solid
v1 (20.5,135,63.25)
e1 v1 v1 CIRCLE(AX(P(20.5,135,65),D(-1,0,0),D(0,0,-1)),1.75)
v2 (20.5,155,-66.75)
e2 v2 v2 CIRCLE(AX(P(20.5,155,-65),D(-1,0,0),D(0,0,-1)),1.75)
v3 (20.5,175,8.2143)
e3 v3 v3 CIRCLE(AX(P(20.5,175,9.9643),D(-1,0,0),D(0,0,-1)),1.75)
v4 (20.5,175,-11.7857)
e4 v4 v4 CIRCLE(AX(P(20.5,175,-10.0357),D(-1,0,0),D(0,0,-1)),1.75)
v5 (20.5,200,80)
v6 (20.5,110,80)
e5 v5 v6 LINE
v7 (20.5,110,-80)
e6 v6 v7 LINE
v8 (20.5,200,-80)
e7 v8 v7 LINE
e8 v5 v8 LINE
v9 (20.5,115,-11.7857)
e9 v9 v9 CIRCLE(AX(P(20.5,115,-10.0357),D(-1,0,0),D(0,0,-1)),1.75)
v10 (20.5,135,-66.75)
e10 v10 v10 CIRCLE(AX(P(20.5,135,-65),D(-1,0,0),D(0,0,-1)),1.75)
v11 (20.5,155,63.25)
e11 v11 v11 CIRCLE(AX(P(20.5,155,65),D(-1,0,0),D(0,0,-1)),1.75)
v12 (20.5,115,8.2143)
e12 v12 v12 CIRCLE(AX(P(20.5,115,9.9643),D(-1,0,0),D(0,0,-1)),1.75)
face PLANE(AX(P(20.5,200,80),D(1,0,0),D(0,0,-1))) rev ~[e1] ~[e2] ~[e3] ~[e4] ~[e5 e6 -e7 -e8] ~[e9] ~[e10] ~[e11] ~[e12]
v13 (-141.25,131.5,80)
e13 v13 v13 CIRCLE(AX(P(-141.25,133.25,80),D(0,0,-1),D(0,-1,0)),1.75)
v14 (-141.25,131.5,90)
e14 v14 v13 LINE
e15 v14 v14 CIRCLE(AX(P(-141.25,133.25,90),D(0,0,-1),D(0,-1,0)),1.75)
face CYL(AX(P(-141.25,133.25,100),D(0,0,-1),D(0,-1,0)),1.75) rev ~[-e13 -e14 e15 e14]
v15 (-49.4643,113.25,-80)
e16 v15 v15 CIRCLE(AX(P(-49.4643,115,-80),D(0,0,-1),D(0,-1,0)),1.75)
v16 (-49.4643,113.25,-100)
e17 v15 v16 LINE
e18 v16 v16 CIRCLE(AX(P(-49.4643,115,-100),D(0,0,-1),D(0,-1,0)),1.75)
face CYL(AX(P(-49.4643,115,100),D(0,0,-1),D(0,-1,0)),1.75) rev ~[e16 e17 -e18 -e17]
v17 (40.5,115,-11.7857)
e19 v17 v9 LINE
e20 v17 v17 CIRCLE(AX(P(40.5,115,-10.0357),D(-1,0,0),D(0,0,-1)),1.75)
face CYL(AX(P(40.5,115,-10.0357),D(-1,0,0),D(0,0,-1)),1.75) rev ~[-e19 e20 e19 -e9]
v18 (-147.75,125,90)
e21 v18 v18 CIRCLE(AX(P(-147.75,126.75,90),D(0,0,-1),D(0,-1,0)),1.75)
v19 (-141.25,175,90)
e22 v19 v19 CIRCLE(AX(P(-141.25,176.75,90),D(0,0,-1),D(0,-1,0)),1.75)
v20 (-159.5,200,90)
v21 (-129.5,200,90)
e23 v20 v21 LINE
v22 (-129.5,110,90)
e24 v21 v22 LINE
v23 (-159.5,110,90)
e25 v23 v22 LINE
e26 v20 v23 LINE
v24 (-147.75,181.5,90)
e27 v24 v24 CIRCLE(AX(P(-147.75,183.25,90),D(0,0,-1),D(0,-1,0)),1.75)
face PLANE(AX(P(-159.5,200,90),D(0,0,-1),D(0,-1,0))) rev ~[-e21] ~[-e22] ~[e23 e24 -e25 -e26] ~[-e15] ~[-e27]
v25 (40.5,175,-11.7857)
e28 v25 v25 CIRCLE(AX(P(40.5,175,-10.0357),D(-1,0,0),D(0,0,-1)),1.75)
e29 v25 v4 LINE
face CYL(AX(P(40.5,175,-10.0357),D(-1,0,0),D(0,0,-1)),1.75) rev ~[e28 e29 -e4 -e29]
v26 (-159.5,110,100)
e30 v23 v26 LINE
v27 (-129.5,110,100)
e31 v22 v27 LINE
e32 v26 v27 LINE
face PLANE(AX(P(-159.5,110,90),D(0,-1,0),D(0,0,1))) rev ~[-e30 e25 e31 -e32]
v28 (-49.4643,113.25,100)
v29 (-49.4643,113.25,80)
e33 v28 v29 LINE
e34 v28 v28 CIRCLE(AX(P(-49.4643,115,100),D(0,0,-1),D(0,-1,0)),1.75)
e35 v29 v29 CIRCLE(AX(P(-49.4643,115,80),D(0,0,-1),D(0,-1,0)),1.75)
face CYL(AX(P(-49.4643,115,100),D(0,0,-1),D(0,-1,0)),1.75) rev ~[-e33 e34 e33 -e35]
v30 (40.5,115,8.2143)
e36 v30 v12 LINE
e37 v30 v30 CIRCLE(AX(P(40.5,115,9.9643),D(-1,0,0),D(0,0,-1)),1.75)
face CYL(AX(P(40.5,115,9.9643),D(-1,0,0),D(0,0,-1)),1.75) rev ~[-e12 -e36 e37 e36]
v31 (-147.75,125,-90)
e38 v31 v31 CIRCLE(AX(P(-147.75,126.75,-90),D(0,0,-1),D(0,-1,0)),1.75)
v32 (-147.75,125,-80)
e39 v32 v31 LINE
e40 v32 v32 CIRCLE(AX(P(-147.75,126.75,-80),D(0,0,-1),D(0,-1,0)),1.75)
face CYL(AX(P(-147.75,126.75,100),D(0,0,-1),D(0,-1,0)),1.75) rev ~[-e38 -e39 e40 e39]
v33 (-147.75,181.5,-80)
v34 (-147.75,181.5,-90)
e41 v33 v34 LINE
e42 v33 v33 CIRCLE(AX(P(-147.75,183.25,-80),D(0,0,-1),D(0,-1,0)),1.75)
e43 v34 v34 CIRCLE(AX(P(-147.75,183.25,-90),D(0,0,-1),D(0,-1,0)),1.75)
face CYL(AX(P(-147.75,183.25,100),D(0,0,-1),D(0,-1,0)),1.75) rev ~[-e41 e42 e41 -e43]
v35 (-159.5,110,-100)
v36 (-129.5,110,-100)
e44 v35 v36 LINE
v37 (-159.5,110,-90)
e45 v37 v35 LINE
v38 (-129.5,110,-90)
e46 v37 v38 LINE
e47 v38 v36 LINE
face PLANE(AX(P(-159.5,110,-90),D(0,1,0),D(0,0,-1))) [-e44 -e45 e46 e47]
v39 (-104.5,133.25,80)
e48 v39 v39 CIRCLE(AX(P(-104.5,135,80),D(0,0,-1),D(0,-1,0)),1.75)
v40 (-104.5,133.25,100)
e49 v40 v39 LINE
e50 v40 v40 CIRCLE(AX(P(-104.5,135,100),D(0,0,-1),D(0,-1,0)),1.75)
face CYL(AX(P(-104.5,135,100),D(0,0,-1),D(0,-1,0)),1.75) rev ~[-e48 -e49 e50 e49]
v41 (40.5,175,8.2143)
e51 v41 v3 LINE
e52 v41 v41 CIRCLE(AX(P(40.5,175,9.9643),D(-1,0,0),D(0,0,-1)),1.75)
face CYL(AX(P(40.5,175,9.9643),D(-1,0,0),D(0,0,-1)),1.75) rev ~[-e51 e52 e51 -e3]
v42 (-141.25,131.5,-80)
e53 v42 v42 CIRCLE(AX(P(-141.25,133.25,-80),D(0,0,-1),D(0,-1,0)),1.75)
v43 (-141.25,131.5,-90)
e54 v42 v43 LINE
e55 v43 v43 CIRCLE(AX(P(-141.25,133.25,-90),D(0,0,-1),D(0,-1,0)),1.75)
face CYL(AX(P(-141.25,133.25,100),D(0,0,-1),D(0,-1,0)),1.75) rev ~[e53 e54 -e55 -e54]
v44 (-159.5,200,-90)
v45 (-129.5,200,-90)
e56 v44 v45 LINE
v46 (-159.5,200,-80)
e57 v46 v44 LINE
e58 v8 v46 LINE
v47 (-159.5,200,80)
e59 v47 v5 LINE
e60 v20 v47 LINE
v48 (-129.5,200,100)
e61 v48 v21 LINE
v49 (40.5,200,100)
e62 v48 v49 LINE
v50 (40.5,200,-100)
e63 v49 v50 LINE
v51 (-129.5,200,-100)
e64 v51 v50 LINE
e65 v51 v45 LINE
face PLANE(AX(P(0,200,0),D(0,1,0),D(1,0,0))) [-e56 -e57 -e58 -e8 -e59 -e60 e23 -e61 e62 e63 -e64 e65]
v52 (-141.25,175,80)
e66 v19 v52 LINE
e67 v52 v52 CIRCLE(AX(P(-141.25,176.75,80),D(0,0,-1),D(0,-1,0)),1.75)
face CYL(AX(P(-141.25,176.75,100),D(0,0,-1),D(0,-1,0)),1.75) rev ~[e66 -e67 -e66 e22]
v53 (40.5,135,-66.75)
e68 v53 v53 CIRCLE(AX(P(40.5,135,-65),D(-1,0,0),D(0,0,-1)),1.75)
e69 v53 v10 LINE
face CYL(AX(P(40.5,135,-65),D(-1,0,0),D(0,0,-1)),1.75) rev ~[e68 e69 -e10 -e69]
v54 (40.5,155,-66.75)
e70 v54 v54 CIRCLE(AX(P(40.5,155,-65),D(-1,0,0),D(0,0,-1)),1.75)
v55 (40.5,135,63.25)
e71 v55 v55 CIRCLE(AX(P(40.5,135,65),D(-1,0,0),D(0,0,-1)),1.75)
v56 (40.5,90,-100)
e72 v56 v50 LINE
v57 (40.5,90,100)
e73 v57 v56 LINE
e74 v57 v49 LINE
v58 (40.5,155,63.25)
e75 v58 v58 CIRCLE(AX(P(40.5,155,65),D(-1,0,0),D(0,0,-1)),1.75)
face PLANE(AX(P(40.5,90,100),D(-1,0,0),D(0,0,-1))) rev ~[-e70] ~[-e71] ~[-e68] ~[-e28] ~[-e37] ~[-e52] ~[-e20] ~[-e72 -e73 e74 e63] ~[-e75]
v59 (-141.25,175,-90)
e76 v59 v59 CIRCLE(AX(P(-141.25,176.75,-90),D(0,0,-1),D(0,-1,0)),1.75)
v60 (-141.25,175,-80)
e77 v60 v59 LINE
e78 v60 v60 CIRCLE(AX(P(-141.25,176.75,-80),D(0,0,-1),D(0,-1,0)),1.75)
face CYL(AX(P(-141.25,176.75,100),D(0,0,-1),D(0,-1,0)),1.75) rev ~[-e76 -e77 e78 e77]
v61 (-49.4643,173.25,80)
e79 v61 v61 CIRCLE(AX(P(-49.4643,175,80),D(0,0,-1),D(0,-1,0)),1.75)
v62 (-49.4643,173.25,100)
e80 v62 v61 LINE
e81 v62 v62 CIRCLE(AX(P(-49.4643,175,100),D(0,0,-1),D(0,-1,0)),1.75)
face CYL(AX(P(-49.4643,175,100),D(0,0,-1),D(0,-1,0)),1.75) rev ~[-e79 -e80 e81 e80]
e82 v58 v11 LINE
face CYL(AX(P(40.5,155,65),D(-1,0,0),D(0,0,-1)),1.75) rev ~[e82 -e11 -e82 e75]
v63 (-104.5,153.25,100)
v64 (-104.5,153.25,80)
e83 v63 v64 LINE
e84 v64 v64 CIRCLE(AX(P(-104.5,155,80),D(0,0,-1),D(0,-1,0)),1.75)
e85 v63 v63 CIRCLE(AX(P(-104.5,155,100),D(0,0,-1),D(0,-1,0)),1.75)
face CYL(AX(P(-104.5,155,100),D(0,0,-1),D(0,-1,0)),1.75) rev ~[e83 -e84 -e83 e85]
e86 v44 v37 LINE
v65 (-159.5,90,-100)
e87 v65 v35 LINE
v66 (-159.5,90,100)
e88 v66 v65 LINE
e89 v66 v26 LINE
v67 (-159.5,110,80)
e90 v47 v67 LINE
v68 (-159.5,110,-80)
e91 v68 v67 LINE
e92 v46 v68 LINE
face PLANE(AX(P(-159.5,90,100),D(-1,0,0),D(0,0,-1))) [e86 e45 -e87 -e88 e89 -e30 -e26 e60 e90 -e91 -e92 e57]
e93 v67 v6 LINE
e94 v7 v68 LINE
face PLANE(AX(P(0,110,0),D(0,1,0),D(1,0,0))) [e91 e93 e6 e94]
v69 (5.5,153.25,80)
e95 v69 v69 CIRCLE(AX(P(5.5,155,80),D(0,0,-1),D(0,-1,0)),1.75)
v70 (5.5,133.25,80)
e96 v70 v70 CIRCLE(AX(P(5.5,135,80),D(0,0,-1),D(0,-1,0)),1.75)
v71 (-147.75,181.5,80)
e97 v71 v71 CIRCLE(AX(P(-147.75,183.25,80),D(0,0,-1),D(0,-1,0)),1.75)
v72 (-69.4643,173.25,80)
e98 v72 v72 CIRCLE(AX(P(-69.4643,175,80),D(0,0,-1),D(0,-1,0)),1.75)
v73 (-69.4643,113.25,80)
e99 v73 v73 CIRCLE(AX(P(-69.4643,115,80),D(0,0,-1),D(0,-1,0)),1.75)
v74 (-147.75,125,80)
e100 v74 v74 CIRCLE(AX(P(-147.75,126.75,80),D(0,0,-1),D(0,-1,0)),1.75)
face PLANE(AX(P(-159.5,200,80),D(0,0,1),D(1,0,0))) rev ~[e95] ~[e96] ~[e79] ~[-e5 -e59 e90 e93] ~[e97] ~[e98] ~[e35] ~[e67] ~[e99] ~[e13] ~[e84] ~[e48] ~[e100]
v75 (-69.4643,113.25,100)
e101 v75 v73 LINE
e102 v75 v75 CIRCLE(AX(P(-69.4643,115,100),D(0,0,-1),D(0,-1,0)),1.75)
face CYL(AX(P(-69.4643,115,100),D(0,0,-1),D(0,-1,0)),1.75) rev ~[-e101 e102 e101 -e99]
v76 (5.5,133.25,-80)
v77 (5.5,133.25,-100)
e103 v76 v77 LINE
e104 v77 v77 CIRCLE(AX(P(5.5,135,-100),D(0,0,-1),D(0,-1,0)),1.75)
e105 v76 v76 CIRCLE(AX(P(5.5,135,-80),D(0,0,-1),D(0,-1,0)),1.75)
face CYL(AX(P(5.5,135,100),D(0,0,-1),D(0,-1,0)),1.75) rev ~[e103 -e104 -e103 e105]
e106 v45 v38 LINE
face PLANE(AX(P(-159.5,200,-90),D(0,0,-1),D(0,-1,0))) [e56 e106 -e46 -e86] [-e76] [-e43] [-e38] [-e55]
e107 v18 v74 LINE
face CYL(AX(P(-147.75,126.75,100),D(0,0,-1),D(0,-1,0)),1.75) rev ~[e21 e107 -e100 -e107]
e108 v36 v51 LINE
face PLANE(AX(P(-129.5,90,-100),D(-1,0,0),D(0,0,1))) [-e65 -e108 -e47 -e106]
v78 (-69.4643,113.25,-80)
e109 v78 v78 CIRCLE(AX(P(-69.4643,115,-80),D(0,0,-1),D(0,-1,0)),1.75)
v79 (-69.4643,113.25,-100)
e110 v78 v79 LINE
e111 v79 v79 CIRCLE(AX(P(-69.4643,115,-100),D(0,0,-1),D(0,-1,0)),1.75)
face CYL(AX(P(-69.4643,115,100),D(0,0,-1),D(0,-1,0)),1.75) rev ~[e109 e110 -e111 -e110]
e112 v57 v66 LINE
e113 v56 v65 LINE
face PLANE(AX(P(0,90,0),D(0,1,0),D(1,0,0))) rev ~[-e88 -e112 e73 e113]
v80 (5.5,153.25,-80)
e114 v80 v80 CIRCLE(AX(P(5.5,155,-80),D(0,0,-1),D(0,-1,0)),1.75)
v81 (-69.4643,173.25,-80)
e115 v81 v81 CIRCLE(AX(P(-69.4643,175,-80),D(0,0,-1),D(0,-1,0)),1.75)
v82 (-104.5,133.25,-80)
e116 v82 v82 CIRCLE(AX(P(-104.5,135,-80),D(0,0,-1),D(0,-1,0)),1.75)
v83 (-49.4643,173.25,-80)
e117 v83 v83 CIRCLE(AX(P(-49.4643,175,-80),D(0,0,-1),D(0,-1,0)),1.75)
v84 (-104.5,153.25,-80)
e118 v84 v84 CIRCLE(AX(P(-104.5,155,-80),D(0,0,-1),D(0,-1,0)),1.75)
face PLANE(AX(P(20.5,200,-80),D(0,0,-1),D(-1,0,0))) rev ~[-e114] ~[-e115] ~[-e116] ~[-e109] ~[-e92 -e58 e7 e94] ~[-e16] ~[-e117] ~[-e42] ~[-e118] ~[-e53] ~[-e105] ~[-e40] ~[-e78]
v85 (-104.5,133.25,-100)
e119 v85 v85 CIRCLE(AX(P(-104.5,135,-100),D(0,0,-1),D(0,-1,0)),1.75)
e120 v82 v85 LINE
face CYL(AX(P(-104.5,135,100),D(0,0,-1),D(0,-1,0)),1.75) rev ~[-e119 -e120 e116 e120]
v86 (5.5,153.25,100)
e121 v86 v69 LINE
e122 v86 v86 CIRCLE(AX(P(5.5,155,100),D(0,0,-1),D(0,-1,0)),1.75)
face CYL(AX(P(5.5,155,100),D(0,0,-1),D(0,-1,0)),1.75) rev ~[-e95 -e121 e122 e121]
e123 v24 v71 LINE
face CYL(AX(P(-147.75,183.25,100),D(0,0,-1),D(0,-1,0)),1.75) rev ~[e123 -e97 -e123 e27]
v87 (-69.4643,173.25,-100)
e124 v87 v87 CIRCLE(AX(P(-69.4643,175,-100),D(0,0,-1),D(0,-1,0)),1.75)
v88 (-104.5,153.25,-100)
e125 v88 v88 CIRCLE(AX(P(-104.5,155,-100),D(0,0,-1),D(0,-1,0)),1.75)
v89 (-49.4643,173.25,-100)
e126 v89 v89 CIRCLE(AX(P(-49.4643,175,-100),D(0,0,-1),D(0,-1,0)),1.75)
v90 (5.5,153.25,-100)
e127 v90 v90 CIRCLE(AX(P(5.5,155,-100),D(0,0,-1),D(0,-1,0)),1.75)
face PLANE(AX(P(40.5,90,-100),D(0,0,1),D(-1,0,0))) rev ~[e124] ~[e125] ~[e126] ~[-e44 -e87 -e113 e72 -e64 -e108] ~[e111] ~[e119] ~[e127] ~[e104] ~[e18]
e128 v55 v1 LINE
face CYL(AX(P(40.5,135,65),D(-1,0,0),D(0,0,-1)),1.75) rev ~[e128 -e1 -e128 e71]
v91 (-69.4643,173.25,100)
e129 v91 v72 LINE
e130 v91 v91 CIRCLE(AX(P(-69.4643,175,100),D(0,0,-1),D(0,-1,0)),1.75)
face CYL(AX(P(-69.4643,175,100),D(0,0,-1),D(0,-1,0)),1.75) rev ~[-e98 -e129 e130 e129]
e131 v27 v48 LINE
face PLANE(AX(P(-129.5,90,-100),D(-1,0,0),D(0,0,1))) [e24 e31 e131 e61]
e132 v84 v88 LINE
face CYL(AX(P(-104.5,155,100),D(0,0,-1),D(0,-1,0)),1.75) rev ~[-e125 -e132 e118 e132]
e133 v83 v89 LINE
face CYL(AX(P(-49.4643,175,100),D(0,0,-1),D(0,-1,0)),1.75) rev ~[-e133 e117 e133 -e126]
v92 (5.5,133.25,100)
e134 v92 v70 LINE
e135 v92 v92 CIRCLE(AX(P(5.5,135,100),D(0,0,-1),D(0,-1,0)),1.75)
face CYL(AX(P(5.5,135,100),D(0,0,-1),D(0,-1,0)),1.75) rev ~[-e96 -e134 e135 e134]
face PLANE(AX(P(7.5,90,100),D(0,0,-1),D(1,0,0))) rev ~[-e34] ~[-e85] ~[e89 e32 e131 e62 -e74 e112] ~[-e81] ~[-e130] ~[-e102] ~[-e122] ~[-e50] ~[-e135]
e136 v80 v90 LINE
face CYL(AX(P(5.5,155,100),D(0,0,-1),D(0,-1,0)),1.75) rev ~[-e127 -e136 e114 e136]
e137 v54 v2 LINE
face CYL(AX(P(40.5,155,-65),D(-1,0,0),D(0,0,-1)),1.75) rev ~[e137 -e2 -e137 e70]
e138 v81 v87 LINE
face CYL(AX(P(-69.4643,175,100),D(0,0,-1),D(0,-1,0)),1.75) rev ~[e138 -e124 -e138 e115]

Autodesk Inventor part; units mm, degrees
ref_plane "YZ Plane" through (0, 0, 0) normal (1, 0, 0) x (0, 1, 0)
ref_plane "XZ Plane" through (0, 0, 0) normal (0, 1, 0) x (-1, 0, 0)
ref_plane "XY Plane" through (0, 0, 0) normal (0, 0, 1) x (1, 0, 0)
sketch "Boceto2" plane through (0, 0, 0) normal (0, 1, 0) x (-1, 0, 0)
  line L0 (7.5, 100) -> (-7.5, 100)
  line L1 (-7.5, 100) -> (-7.5, -100)
  line L2 (-7.5, -100) -> (7.5, -100)
  line L3 (7.5, -100) -> (7.5, 100)
  line L4 (7.5, 100) -> (-7.5, -100) construction
  line L5 (-7.5, 100) -> (7.5, -100) construction
  point P0 (0, 0)
  dimension "d7" = 15
  dimension "d8" = 200
extrude "Extrusión1" add sketch "Boceto2" along normal blind 10
sketch "Boceto3" plane through (0, 10, 0) normal (0, 1, 0) x (1, 0, 0)
  line L0 (5, 60) -> (-5, 60)
  line L1 (-5, 60) -> (-5, 70)
  line L2 (-5, 70) -> (5, 70)
  line L3 (5, 70) -> (5, 60)
  line L4 (5, 60) -> (-5, 70) construction
  line L5 (7.5, 100) -> (-7.5, 100) projected
  line L6 (0, 64.5148) -> (0, 61.9205)
  circle A0 centre (3.25, 61.75) radius 1.75
  circle A1 centre (-3.25, 68.25) radius 1.75
  line L7 (-7.5, 100) -> (-7.5, -100) projected
  line L8 (-7.5, 0) -> (0, 0)
  line L9 (5, -70) -> (5, -60)
  line L10 (-5, -70) -> (5, -70)
  line L11 (5, -60) -> (-5, -60)
  line L12 (-5, -60) -> (-5, -70)
  line L13 (5, -60) -> (-5, -70) construction
  line L14 (0, -64.5148) -> (0, -61.9205)
  circle A2 centre (-3.25, -68.25) radius 1.75
  circle A3 centre (3.25, -61.75) radius 1.75
  point P0 (3.25, 68.25)
  point P1 (-5, 65)
  point P2 (-3.25, 61.75)
  point P3 (0, 100)
  point P4 (3.25, -68.25)
  point P5 (-3.25, -61.75)
  point P6 (-5, -65)
  dimension "d12" = 1.75
  dimension "d13" = 1.75
  dimension "d14" = 1.75
  dimension "d15" = 1.75
  dimension "d16" = 10
  dimension "d17" = 10
  dimension "d19" = 30
  dimension "d67" = 31.75
hole "Agujero1" at (3.25, 10, -61.75) at (-3.25, 10, -68.25) at (-3.25, 10, 68.25) at (3.25, 10, 61.75) direction (0, -1, 0) diameter 3.5 end through all
sketch "Boceto4" plane through (0, 10, 0) normal (0, 1, 0) x (1, 0, 0)
  line L0 (-7.5, 100) -> (-7.5, -100) projected
  line L1 (-7.5, -100) -> (7.5, -100)
  line L2 (7.5, -100) -> (7.5, -80)
  line L3 (7.5, -80) -> (-7.5, -80)
  line L4 (-7.5, -80) -> (-7.5, -100)
  line L5 (-7.5, 0) -> (1.0116, 0)
  line L6 (-7.5, -100) -> (-7.5, 100)
  line L7 (-7.5, 100) -> (7.5, 100)
  line L8 (7.5, 100) -> (7.5, 80)
  line L9 (7.5, 80) -> (-7.5, 80)
  line L10 (-7.5, 80) -> (-7.5, 100)
  point P0 (0, 0)
  point P1 (-7.5, -80)
  point P2 (-7.5, 80)
  dimension "d27" = 15
  dimension "d28" = 20
extrude "Extrusión2" add sketch "Boceto4" along normal blind 80
sketch "Boceto5" plane through (0, 90, 0) normal (0, 1, 0) x (1, 0, 0)
  line L0 (-7.5, -100) -> (7.5, -100) projected
  line L1 (-7.5, -100) -> (40.5, -100)
  line L2 (40.5, -100) -> (40.5, 100)
  line L3 (40.5, 100) -> (-7.5, 100)
  line L4 (-7.5, 100) -> (-7.5, -100)
  line L5 (40.5, -100) -> (-159.5, -100)
  line L6 (-159.5, -100) -> (-159.5, 100)
  line L7 (-159.5, 100) -> (40.5, 100)
  line L8 (40.5, 100) -> (40.5, -100)
  point P0 (0, 0)
  point P1 (-7.5, 100)
  dimension "d31" = 48
  dimension "d32" = 200
  dimension "d74" = 200
extrude "Extrusión3" add sketch "Boceto5" along normal blind 110
sketch "Boceto6" plane through (0, 200, 0) normal (0, 1, 0) x (1, 0, 0)
  line L0 (40.5, 100) -> (7.5, 100) projected
  line L1 (40.5, 100) -> (20.5, 100)
  line L2 (20.5, 100) -> (20.5, 80)
  line L3 (7.5, -100) -> (40.5, -100) projected
  line L4 (24, -100) -> (24, -80)
  line L5 (-159.5, 100) -> (-159.5, -100) projected
  line L6 (20.5, 80) -> (-159.5, 80)
  line L7 (-159.5, 80) -> (-159.5, -80)
  line L8 (-159.5, -80) -> (20.5, -80)
  line L9 (20.5, -80) -> (20.5, 80)
  line L10 (-159.5, -100) -> (40.5, -100) projected
  point P0 (7.5, 80)
  point P1 (-159.5, 80)
  dimension "d36" = 20
  dimension "d37" = 20
  dimension "d38" = 20
  dimension "d78" = 20
extrude "Extrusión4" cut sketch "Boceto6" against normal blind 90
sketch "Boceto7" plane through (-159.5, 90, -100) normal (-1, 0, 0) x (0, 0, 1)
  line L0 (0, 110) -> (20, 110) projected
  line L1 (20, 110) -> (10, 110)
  line L2 (10, 110) -> (10, 20)
  line L3 (10, 20) -> (20, 20)
  line L4 (20, 20) -> (20, 110)
  line L5 (180, 110) -> (180, 20) projected
  line L6 (180, 110) -> (190, 110)
  line L7 (190, 110) -> (190, 20)
  line L8 (190, 20) -> (180, 20)
  line L9 (180, 20) -> (180, 110)
  line L10 (200, 0) -> (200, 110) projected
  line L11 (0, 0) -> (0, 110) projected
  line L12 (0, 110) -> (10, 110)
  line L13 (10, 110) -> (10, 20)
  line L14 (10, 20) -> (0, 20)
  line L15 (0, 20) -> (0, 110)
  line L16 (200, 110) -> (0, 110) projected
  line L17 (200, 110) -> (190, 110)
  line L18 (190, 110) -> (190, 20)
  line L19 (190, 20) -> (200, 20)
  line L20 (200, 20) -> (200, 110)
  point P0 (100, -90)
  point P1 (200, 20)
  dimension "d42" = 10
  dimension "d63" = 10
  dimension "d65" = 10
extrude "Extrusión5" cut sketch "Boceto7" against normal blind 30 contours L0 L2 L14 L11 | L16 L10 L19 L7
sketch "Boceto8" plane through (-7.5, 0, 100) normal (0, 0, 1) x (1, 0, 0)
  line L0 (-122, 200) -> (-122, 110) projected
  line L1 (-132, 175) -> (-142, 175)
  line L2 (-142, 175) -> (-142, 185)
  line L3 (-142, 185) -> (-132, 185)
  line L4 (-132, 185) -> (-132, 175)
  line L5 (-132, 175) -> (-142, 185) construction
  line L6 (-142, 175) -> (-132, 185) construction
  line L7 (-152, 200) -> (48, 200) projected
  line L8 (-113, 155) -> (-128, 155)
  line L9 (-152, 110) -> (-122, 110) projected
  line L10 (-132, 180) -> (-131.5898, 180)
  circle A0 centre (-140.25, 183.25) radius 1.75
  circle A1 centre (-133.75, 176.75) radius 1.75
  line L11 (-132, 125) -> (-132, 135)
  line L12 (-142, 125) -> (-132, 125)
  line L13 (-132, 135) -> (-142, 125) construction
  line L14 (-132, 135) -> (-142, 135)
  line L15 (-142, 135) -> (-132, 125) construction
  line L16 (-142, 135) -> (-142, 125)
  line L17 (-132, 130) -> (-131.5898, 130)
  circle A2 centre (-133.75, 133.25) radius 1.75
  circle A3 centre (-140.25, 126.75) radius 1.75
  line L18 (-152, 110) -> (-152, 200) projected
  point P0 (7.5, 0)
  point P1 (-113, 215)
  point P2 (-133.75, 183.25)
  point P3 (-142, 180)
  point P4 (-140.25, 176.75)
  point P5 (48, 200)
  point P6 (-133.75, 126.75)
  point P7 (-140.25, 133.25)
  point P8 (-143, 115)
  point P9 (-133.75, 126.75)
  point P10 (-140.25, 133.25)
  point P11 (-142, 130)
  dimension "d46" = 1.75
  dimension "d47" = 1.75
  dimension "d48" = 1.75
  dimension "d49" = 1.75
  dimension "d50" = 10
  dimension "d51" = 10
  dimension "d52" = 15
  dimension "d66" = 10
  dimension "d70" = 15
hole "Agujero2" at (-147.75, 183.25, 100) at (-141.25, 176.75, 100) at (-147.75, 126.75, 100) at (-141.25, 133.25, 100) direction (0, 0, -1) diameter 3.5 end through all
ref_plane "Plano de trabajo1" through (-159.5, 90, 100) normal (0, -1, 0) x (1, 0, 0)
split "Dividir1" plane through (-159.5, 90, 100) removes the side toward (0, -1, 0)
ref_plane "Plano de trabajo2" through (-159.5, 200, 0) normal (0, 0, 1) x (1, 0, 0)
ref_plane "Plano de trabajo3" through (-59.5, 90, 100) normal (1, 0, 0) x (0, 0, -1)
sketch "Boceto9" plane through (-159.5, 90, 100) normal (0, 0, 1) x (1, 0, 0)
  line L0 (85.0357, 30) -> (115.0357, 30)
  circle A0 centre (110.0357, 25) radius 1.75
  line L1 (90.0357, 25) -> (110.0357, 25)
  line L2 (115.0357, 30) -> (115.0357, 20)
  circle A1 centre (90.0357, 25) radius 1.75
  line L3 (85.0357, 20) -> (115.0357, 30) construction
  line L4 (85.0357, 30) -> (115.0357, 20) construction
  line L5 (85.0357, 20) -> (85.0357, 30)
  line L6 (115.0357, 20) -> (85.0357, 20)
  line L7 (240, 0) -> (-40, 0) projected
  line L8 (200, 0) -> (200, 110) projected
  line L9 (200, 55) -> (88.2857, 55)
  line L10 (85.0357, 80) -> (115.0357, 80)
  circle A2 centre (110.0357, 85) radius 1.75
  line L11 (90.0357, 85) -> (110.0357, 85)
  line L12 (115.0357, 80) -> (115.0357, 90)
  circle A3 centre (90.0357, 85) radius 1.75
  line L13 (85.0357, 90) -> (115.0357, 80) construction
  line L14 (85.0357, 80) -> (115.0357, 90) construction
  line L15 (85.0357, 90) -> (85.0357, 80)
  line L16 (115.0357, 90) -> (85.0357, 90)
  line L17 (100.0357, 55) -> (185.099, 55) construction
  line L18 (160, 70) -> (160, 40)
  circle A4 centre (165, 45) radius 1.75
  line L19 (165, 65) -> (165, 45)
  line L20 (160, 40) -> (170, 40)
  circle A5 centre (165, 65) radius 1.75
  line L21 (170, 70) -> (160, 40) construction
  line L22 (160, 70) -> (170, 40) construction
  line L23 (170, 70) -> (160, 70)
  line L24 (170, 40) -> (170, 70)
  circle A6 centre (55, 65) radius 1.75
  line L25 (60, 70) -> (60, 40)
  line L26 (60, 70) -> (50, 40) construction
  line L27 (50, 70) -> (60, 70)
  line L28 (50, 40) -> (50, 70)
  line L29 (50, 70) -> (60, 40) construction
  circle A7 centre (55, 45) radius 1.75
  line L30 (55, 65) -> (55, 45)
  line L31 (60, 40) -> (50, 40)
  line L32 (30, 110) -> (30, 20) projected
  point P0 (159.5, -90)
  point P1 (100.0357, 34.7141)
  point P2 (85.0357, 36.6749)
  point P3 (100.0357, 34.7141)
  point P4 (115.0357, 25)
  point P5 (115.0357, 85)
  point P6 (189.1833, 40)
  point P7 (165, 70)
  point P8 (70.0357, 40)
  point P9 (55, 70)
  dimension "d83" = 10
  dimension "d84" = 30
  dimension "d85" = 5
  dimension "d86" = 5
  dimension "d87" = 5
  dimension "d88" = 5
  dimension "d89" = 20
  dimension "d91" = 30
  dimension "d92" = 5
  dimension "d93" = 5
  dimension "d94" = 3.5
  dimension "d95" = 5
  dimension "d96" = 5
  dimension "d97" = 5
  dimension "d98" = 5
  dimension "d99" = 5
  dimension "d100" = 20
ref_plane "Plano de trabajo4" through (0, 145, 0) normal (0, 1, 0) x (1, 0, 0)
hole "Agujero3" at (-104.5, 155, 100) at (-69.4643, 175, 100) at (-49.4643, 175, 100) at (-104.5, 135, 100) at (-69.4643, 115, 100) at (-49.4643, 115, 100) at (5.5, 135, 100) at (5.5, 155, 100) direction (0, 0, -1) diameter 3.5 end through all
sketch "Boceto10" plane through (40.5, 90, 100) normal (1, 0, 0) x (0, 0, -1)
  line L0 (85.0357, 30) -> (115.0357, 30)
  circle A0 centre (110.0357, 25) radius 1.75
  line L1 (90.0357, 25) -> (110.0357, 25)
  line L2 (115.0357, 30) -> (115.0357, 20)
  circle A1 centre (90.0357, 25) radius 1.75
  line L3 (85.0357, 20) -> (115.0357, 30) construction
  line L4 (85.0357, 30) -> (115.0357, 20) construction
  line L5 (85.0357, 20) -> (85.0357, 30)
  line L6 (115.0357, 20) -> (85.0357, 20)
  circle A2 centre (90.0357, 85) radius 1.75
  line L7 (85.0357, 80) -> (115.0357, 80)
  line L8 (85.0357, 80) -> (115.0357, 90) construction
  line L9 (85.0357, 90) -> (85.0357, 80)
  line L10 (115.0357, 90) -> (85.0357, 90)
  line L11 (85.0357, 90) -> (115.0357, 80) construction
  circle A3 centre (110.0357, 85) radius 1.75
  line L12 (90.0357, 85) -> (110.0357, 85)
  line L13 (115.0357, 80) -> (115.0357, 90)
  line L14 (160, 70) -> (160, 40)
  circle A4 centre (165, 45) radius 1.75
  line L15 (170, 40) -> (170, 70)
  line L16 (170, 70) -> (160, 40) construction
  line L17 (160, 40) -> (170, 40)
  line L18 (160, 70) -> (170, 40) construction
  circle A5 centre (165, 65) radius 1.75
  line L19 (165, 65) -> (165, 45)
  line L20 (170, 70) -> (160, 70)
  circle A6 centre (35, 65) radius 1.75
  line L21 (40, 70) -> (40, 40)
  line L22 (40, 40) -> (30, 40)
  circle A7 centre (35, 45) radius 1.75
  line L23 (35, 65) -> (35, 45)
  line L24 (40, 70) -> (30, 40) construction
  line L25 (30, 40) -> (30, 70)
  line L26 (30, 70) -> (40, 40) construction
  line L27 (30, 70) -> (40, 70)
  line L28 (0, 0) -> (0, 110) projected
  line L29 (200, 0) -> (200, 110) projected
  point P0 (100, -90)
  point P1 (100.0357, 34.7141)
  point P2 (100.0357, 34.7141)
  point P3 (85.0357, 36.6749)
  point P4 (115.0357, 25)
  point P5 (88.2857, 55)
  point P6 (115.0357, 85)
  point P7 (100.0357, 55)
  point P8 (189.1833, 40)
  point P9 (165, 70)
  point P10 (70.0357, 40)
  point P11 (35, 70)
  dimension "d108" = 10
  dimension "d109" = 30
  dimension "d110" = 5
  dimension "d111" = 5
  dimension "d112" = 5
  dimension "d113" = 5
  dimension "d114" = 5
  dimension "d115" = 5
  dimension "d116" = 3.5
  dimension "d117" = 5
  dimension "d118" = 5
  dimension "d119" = 5
  dimension "d120" = 5
  dimension "d121" = 5
  dimension "d122" = 30
  dimension "d123" = 30
hole "Agujero4" at (40.5, 175, 9.9643) at (40.5, 175, -10.0357) at (40.5, 155, 65) at (40.5, 135, 65) at (40.5, 115, 9.9643) at (40.5, 115, -10.0357) at (40.5, 135, -65) at (40.5, 155, -65) direction (-1, 0, 0) diameter 3.5 end through all
properties part number "container_back_head"
